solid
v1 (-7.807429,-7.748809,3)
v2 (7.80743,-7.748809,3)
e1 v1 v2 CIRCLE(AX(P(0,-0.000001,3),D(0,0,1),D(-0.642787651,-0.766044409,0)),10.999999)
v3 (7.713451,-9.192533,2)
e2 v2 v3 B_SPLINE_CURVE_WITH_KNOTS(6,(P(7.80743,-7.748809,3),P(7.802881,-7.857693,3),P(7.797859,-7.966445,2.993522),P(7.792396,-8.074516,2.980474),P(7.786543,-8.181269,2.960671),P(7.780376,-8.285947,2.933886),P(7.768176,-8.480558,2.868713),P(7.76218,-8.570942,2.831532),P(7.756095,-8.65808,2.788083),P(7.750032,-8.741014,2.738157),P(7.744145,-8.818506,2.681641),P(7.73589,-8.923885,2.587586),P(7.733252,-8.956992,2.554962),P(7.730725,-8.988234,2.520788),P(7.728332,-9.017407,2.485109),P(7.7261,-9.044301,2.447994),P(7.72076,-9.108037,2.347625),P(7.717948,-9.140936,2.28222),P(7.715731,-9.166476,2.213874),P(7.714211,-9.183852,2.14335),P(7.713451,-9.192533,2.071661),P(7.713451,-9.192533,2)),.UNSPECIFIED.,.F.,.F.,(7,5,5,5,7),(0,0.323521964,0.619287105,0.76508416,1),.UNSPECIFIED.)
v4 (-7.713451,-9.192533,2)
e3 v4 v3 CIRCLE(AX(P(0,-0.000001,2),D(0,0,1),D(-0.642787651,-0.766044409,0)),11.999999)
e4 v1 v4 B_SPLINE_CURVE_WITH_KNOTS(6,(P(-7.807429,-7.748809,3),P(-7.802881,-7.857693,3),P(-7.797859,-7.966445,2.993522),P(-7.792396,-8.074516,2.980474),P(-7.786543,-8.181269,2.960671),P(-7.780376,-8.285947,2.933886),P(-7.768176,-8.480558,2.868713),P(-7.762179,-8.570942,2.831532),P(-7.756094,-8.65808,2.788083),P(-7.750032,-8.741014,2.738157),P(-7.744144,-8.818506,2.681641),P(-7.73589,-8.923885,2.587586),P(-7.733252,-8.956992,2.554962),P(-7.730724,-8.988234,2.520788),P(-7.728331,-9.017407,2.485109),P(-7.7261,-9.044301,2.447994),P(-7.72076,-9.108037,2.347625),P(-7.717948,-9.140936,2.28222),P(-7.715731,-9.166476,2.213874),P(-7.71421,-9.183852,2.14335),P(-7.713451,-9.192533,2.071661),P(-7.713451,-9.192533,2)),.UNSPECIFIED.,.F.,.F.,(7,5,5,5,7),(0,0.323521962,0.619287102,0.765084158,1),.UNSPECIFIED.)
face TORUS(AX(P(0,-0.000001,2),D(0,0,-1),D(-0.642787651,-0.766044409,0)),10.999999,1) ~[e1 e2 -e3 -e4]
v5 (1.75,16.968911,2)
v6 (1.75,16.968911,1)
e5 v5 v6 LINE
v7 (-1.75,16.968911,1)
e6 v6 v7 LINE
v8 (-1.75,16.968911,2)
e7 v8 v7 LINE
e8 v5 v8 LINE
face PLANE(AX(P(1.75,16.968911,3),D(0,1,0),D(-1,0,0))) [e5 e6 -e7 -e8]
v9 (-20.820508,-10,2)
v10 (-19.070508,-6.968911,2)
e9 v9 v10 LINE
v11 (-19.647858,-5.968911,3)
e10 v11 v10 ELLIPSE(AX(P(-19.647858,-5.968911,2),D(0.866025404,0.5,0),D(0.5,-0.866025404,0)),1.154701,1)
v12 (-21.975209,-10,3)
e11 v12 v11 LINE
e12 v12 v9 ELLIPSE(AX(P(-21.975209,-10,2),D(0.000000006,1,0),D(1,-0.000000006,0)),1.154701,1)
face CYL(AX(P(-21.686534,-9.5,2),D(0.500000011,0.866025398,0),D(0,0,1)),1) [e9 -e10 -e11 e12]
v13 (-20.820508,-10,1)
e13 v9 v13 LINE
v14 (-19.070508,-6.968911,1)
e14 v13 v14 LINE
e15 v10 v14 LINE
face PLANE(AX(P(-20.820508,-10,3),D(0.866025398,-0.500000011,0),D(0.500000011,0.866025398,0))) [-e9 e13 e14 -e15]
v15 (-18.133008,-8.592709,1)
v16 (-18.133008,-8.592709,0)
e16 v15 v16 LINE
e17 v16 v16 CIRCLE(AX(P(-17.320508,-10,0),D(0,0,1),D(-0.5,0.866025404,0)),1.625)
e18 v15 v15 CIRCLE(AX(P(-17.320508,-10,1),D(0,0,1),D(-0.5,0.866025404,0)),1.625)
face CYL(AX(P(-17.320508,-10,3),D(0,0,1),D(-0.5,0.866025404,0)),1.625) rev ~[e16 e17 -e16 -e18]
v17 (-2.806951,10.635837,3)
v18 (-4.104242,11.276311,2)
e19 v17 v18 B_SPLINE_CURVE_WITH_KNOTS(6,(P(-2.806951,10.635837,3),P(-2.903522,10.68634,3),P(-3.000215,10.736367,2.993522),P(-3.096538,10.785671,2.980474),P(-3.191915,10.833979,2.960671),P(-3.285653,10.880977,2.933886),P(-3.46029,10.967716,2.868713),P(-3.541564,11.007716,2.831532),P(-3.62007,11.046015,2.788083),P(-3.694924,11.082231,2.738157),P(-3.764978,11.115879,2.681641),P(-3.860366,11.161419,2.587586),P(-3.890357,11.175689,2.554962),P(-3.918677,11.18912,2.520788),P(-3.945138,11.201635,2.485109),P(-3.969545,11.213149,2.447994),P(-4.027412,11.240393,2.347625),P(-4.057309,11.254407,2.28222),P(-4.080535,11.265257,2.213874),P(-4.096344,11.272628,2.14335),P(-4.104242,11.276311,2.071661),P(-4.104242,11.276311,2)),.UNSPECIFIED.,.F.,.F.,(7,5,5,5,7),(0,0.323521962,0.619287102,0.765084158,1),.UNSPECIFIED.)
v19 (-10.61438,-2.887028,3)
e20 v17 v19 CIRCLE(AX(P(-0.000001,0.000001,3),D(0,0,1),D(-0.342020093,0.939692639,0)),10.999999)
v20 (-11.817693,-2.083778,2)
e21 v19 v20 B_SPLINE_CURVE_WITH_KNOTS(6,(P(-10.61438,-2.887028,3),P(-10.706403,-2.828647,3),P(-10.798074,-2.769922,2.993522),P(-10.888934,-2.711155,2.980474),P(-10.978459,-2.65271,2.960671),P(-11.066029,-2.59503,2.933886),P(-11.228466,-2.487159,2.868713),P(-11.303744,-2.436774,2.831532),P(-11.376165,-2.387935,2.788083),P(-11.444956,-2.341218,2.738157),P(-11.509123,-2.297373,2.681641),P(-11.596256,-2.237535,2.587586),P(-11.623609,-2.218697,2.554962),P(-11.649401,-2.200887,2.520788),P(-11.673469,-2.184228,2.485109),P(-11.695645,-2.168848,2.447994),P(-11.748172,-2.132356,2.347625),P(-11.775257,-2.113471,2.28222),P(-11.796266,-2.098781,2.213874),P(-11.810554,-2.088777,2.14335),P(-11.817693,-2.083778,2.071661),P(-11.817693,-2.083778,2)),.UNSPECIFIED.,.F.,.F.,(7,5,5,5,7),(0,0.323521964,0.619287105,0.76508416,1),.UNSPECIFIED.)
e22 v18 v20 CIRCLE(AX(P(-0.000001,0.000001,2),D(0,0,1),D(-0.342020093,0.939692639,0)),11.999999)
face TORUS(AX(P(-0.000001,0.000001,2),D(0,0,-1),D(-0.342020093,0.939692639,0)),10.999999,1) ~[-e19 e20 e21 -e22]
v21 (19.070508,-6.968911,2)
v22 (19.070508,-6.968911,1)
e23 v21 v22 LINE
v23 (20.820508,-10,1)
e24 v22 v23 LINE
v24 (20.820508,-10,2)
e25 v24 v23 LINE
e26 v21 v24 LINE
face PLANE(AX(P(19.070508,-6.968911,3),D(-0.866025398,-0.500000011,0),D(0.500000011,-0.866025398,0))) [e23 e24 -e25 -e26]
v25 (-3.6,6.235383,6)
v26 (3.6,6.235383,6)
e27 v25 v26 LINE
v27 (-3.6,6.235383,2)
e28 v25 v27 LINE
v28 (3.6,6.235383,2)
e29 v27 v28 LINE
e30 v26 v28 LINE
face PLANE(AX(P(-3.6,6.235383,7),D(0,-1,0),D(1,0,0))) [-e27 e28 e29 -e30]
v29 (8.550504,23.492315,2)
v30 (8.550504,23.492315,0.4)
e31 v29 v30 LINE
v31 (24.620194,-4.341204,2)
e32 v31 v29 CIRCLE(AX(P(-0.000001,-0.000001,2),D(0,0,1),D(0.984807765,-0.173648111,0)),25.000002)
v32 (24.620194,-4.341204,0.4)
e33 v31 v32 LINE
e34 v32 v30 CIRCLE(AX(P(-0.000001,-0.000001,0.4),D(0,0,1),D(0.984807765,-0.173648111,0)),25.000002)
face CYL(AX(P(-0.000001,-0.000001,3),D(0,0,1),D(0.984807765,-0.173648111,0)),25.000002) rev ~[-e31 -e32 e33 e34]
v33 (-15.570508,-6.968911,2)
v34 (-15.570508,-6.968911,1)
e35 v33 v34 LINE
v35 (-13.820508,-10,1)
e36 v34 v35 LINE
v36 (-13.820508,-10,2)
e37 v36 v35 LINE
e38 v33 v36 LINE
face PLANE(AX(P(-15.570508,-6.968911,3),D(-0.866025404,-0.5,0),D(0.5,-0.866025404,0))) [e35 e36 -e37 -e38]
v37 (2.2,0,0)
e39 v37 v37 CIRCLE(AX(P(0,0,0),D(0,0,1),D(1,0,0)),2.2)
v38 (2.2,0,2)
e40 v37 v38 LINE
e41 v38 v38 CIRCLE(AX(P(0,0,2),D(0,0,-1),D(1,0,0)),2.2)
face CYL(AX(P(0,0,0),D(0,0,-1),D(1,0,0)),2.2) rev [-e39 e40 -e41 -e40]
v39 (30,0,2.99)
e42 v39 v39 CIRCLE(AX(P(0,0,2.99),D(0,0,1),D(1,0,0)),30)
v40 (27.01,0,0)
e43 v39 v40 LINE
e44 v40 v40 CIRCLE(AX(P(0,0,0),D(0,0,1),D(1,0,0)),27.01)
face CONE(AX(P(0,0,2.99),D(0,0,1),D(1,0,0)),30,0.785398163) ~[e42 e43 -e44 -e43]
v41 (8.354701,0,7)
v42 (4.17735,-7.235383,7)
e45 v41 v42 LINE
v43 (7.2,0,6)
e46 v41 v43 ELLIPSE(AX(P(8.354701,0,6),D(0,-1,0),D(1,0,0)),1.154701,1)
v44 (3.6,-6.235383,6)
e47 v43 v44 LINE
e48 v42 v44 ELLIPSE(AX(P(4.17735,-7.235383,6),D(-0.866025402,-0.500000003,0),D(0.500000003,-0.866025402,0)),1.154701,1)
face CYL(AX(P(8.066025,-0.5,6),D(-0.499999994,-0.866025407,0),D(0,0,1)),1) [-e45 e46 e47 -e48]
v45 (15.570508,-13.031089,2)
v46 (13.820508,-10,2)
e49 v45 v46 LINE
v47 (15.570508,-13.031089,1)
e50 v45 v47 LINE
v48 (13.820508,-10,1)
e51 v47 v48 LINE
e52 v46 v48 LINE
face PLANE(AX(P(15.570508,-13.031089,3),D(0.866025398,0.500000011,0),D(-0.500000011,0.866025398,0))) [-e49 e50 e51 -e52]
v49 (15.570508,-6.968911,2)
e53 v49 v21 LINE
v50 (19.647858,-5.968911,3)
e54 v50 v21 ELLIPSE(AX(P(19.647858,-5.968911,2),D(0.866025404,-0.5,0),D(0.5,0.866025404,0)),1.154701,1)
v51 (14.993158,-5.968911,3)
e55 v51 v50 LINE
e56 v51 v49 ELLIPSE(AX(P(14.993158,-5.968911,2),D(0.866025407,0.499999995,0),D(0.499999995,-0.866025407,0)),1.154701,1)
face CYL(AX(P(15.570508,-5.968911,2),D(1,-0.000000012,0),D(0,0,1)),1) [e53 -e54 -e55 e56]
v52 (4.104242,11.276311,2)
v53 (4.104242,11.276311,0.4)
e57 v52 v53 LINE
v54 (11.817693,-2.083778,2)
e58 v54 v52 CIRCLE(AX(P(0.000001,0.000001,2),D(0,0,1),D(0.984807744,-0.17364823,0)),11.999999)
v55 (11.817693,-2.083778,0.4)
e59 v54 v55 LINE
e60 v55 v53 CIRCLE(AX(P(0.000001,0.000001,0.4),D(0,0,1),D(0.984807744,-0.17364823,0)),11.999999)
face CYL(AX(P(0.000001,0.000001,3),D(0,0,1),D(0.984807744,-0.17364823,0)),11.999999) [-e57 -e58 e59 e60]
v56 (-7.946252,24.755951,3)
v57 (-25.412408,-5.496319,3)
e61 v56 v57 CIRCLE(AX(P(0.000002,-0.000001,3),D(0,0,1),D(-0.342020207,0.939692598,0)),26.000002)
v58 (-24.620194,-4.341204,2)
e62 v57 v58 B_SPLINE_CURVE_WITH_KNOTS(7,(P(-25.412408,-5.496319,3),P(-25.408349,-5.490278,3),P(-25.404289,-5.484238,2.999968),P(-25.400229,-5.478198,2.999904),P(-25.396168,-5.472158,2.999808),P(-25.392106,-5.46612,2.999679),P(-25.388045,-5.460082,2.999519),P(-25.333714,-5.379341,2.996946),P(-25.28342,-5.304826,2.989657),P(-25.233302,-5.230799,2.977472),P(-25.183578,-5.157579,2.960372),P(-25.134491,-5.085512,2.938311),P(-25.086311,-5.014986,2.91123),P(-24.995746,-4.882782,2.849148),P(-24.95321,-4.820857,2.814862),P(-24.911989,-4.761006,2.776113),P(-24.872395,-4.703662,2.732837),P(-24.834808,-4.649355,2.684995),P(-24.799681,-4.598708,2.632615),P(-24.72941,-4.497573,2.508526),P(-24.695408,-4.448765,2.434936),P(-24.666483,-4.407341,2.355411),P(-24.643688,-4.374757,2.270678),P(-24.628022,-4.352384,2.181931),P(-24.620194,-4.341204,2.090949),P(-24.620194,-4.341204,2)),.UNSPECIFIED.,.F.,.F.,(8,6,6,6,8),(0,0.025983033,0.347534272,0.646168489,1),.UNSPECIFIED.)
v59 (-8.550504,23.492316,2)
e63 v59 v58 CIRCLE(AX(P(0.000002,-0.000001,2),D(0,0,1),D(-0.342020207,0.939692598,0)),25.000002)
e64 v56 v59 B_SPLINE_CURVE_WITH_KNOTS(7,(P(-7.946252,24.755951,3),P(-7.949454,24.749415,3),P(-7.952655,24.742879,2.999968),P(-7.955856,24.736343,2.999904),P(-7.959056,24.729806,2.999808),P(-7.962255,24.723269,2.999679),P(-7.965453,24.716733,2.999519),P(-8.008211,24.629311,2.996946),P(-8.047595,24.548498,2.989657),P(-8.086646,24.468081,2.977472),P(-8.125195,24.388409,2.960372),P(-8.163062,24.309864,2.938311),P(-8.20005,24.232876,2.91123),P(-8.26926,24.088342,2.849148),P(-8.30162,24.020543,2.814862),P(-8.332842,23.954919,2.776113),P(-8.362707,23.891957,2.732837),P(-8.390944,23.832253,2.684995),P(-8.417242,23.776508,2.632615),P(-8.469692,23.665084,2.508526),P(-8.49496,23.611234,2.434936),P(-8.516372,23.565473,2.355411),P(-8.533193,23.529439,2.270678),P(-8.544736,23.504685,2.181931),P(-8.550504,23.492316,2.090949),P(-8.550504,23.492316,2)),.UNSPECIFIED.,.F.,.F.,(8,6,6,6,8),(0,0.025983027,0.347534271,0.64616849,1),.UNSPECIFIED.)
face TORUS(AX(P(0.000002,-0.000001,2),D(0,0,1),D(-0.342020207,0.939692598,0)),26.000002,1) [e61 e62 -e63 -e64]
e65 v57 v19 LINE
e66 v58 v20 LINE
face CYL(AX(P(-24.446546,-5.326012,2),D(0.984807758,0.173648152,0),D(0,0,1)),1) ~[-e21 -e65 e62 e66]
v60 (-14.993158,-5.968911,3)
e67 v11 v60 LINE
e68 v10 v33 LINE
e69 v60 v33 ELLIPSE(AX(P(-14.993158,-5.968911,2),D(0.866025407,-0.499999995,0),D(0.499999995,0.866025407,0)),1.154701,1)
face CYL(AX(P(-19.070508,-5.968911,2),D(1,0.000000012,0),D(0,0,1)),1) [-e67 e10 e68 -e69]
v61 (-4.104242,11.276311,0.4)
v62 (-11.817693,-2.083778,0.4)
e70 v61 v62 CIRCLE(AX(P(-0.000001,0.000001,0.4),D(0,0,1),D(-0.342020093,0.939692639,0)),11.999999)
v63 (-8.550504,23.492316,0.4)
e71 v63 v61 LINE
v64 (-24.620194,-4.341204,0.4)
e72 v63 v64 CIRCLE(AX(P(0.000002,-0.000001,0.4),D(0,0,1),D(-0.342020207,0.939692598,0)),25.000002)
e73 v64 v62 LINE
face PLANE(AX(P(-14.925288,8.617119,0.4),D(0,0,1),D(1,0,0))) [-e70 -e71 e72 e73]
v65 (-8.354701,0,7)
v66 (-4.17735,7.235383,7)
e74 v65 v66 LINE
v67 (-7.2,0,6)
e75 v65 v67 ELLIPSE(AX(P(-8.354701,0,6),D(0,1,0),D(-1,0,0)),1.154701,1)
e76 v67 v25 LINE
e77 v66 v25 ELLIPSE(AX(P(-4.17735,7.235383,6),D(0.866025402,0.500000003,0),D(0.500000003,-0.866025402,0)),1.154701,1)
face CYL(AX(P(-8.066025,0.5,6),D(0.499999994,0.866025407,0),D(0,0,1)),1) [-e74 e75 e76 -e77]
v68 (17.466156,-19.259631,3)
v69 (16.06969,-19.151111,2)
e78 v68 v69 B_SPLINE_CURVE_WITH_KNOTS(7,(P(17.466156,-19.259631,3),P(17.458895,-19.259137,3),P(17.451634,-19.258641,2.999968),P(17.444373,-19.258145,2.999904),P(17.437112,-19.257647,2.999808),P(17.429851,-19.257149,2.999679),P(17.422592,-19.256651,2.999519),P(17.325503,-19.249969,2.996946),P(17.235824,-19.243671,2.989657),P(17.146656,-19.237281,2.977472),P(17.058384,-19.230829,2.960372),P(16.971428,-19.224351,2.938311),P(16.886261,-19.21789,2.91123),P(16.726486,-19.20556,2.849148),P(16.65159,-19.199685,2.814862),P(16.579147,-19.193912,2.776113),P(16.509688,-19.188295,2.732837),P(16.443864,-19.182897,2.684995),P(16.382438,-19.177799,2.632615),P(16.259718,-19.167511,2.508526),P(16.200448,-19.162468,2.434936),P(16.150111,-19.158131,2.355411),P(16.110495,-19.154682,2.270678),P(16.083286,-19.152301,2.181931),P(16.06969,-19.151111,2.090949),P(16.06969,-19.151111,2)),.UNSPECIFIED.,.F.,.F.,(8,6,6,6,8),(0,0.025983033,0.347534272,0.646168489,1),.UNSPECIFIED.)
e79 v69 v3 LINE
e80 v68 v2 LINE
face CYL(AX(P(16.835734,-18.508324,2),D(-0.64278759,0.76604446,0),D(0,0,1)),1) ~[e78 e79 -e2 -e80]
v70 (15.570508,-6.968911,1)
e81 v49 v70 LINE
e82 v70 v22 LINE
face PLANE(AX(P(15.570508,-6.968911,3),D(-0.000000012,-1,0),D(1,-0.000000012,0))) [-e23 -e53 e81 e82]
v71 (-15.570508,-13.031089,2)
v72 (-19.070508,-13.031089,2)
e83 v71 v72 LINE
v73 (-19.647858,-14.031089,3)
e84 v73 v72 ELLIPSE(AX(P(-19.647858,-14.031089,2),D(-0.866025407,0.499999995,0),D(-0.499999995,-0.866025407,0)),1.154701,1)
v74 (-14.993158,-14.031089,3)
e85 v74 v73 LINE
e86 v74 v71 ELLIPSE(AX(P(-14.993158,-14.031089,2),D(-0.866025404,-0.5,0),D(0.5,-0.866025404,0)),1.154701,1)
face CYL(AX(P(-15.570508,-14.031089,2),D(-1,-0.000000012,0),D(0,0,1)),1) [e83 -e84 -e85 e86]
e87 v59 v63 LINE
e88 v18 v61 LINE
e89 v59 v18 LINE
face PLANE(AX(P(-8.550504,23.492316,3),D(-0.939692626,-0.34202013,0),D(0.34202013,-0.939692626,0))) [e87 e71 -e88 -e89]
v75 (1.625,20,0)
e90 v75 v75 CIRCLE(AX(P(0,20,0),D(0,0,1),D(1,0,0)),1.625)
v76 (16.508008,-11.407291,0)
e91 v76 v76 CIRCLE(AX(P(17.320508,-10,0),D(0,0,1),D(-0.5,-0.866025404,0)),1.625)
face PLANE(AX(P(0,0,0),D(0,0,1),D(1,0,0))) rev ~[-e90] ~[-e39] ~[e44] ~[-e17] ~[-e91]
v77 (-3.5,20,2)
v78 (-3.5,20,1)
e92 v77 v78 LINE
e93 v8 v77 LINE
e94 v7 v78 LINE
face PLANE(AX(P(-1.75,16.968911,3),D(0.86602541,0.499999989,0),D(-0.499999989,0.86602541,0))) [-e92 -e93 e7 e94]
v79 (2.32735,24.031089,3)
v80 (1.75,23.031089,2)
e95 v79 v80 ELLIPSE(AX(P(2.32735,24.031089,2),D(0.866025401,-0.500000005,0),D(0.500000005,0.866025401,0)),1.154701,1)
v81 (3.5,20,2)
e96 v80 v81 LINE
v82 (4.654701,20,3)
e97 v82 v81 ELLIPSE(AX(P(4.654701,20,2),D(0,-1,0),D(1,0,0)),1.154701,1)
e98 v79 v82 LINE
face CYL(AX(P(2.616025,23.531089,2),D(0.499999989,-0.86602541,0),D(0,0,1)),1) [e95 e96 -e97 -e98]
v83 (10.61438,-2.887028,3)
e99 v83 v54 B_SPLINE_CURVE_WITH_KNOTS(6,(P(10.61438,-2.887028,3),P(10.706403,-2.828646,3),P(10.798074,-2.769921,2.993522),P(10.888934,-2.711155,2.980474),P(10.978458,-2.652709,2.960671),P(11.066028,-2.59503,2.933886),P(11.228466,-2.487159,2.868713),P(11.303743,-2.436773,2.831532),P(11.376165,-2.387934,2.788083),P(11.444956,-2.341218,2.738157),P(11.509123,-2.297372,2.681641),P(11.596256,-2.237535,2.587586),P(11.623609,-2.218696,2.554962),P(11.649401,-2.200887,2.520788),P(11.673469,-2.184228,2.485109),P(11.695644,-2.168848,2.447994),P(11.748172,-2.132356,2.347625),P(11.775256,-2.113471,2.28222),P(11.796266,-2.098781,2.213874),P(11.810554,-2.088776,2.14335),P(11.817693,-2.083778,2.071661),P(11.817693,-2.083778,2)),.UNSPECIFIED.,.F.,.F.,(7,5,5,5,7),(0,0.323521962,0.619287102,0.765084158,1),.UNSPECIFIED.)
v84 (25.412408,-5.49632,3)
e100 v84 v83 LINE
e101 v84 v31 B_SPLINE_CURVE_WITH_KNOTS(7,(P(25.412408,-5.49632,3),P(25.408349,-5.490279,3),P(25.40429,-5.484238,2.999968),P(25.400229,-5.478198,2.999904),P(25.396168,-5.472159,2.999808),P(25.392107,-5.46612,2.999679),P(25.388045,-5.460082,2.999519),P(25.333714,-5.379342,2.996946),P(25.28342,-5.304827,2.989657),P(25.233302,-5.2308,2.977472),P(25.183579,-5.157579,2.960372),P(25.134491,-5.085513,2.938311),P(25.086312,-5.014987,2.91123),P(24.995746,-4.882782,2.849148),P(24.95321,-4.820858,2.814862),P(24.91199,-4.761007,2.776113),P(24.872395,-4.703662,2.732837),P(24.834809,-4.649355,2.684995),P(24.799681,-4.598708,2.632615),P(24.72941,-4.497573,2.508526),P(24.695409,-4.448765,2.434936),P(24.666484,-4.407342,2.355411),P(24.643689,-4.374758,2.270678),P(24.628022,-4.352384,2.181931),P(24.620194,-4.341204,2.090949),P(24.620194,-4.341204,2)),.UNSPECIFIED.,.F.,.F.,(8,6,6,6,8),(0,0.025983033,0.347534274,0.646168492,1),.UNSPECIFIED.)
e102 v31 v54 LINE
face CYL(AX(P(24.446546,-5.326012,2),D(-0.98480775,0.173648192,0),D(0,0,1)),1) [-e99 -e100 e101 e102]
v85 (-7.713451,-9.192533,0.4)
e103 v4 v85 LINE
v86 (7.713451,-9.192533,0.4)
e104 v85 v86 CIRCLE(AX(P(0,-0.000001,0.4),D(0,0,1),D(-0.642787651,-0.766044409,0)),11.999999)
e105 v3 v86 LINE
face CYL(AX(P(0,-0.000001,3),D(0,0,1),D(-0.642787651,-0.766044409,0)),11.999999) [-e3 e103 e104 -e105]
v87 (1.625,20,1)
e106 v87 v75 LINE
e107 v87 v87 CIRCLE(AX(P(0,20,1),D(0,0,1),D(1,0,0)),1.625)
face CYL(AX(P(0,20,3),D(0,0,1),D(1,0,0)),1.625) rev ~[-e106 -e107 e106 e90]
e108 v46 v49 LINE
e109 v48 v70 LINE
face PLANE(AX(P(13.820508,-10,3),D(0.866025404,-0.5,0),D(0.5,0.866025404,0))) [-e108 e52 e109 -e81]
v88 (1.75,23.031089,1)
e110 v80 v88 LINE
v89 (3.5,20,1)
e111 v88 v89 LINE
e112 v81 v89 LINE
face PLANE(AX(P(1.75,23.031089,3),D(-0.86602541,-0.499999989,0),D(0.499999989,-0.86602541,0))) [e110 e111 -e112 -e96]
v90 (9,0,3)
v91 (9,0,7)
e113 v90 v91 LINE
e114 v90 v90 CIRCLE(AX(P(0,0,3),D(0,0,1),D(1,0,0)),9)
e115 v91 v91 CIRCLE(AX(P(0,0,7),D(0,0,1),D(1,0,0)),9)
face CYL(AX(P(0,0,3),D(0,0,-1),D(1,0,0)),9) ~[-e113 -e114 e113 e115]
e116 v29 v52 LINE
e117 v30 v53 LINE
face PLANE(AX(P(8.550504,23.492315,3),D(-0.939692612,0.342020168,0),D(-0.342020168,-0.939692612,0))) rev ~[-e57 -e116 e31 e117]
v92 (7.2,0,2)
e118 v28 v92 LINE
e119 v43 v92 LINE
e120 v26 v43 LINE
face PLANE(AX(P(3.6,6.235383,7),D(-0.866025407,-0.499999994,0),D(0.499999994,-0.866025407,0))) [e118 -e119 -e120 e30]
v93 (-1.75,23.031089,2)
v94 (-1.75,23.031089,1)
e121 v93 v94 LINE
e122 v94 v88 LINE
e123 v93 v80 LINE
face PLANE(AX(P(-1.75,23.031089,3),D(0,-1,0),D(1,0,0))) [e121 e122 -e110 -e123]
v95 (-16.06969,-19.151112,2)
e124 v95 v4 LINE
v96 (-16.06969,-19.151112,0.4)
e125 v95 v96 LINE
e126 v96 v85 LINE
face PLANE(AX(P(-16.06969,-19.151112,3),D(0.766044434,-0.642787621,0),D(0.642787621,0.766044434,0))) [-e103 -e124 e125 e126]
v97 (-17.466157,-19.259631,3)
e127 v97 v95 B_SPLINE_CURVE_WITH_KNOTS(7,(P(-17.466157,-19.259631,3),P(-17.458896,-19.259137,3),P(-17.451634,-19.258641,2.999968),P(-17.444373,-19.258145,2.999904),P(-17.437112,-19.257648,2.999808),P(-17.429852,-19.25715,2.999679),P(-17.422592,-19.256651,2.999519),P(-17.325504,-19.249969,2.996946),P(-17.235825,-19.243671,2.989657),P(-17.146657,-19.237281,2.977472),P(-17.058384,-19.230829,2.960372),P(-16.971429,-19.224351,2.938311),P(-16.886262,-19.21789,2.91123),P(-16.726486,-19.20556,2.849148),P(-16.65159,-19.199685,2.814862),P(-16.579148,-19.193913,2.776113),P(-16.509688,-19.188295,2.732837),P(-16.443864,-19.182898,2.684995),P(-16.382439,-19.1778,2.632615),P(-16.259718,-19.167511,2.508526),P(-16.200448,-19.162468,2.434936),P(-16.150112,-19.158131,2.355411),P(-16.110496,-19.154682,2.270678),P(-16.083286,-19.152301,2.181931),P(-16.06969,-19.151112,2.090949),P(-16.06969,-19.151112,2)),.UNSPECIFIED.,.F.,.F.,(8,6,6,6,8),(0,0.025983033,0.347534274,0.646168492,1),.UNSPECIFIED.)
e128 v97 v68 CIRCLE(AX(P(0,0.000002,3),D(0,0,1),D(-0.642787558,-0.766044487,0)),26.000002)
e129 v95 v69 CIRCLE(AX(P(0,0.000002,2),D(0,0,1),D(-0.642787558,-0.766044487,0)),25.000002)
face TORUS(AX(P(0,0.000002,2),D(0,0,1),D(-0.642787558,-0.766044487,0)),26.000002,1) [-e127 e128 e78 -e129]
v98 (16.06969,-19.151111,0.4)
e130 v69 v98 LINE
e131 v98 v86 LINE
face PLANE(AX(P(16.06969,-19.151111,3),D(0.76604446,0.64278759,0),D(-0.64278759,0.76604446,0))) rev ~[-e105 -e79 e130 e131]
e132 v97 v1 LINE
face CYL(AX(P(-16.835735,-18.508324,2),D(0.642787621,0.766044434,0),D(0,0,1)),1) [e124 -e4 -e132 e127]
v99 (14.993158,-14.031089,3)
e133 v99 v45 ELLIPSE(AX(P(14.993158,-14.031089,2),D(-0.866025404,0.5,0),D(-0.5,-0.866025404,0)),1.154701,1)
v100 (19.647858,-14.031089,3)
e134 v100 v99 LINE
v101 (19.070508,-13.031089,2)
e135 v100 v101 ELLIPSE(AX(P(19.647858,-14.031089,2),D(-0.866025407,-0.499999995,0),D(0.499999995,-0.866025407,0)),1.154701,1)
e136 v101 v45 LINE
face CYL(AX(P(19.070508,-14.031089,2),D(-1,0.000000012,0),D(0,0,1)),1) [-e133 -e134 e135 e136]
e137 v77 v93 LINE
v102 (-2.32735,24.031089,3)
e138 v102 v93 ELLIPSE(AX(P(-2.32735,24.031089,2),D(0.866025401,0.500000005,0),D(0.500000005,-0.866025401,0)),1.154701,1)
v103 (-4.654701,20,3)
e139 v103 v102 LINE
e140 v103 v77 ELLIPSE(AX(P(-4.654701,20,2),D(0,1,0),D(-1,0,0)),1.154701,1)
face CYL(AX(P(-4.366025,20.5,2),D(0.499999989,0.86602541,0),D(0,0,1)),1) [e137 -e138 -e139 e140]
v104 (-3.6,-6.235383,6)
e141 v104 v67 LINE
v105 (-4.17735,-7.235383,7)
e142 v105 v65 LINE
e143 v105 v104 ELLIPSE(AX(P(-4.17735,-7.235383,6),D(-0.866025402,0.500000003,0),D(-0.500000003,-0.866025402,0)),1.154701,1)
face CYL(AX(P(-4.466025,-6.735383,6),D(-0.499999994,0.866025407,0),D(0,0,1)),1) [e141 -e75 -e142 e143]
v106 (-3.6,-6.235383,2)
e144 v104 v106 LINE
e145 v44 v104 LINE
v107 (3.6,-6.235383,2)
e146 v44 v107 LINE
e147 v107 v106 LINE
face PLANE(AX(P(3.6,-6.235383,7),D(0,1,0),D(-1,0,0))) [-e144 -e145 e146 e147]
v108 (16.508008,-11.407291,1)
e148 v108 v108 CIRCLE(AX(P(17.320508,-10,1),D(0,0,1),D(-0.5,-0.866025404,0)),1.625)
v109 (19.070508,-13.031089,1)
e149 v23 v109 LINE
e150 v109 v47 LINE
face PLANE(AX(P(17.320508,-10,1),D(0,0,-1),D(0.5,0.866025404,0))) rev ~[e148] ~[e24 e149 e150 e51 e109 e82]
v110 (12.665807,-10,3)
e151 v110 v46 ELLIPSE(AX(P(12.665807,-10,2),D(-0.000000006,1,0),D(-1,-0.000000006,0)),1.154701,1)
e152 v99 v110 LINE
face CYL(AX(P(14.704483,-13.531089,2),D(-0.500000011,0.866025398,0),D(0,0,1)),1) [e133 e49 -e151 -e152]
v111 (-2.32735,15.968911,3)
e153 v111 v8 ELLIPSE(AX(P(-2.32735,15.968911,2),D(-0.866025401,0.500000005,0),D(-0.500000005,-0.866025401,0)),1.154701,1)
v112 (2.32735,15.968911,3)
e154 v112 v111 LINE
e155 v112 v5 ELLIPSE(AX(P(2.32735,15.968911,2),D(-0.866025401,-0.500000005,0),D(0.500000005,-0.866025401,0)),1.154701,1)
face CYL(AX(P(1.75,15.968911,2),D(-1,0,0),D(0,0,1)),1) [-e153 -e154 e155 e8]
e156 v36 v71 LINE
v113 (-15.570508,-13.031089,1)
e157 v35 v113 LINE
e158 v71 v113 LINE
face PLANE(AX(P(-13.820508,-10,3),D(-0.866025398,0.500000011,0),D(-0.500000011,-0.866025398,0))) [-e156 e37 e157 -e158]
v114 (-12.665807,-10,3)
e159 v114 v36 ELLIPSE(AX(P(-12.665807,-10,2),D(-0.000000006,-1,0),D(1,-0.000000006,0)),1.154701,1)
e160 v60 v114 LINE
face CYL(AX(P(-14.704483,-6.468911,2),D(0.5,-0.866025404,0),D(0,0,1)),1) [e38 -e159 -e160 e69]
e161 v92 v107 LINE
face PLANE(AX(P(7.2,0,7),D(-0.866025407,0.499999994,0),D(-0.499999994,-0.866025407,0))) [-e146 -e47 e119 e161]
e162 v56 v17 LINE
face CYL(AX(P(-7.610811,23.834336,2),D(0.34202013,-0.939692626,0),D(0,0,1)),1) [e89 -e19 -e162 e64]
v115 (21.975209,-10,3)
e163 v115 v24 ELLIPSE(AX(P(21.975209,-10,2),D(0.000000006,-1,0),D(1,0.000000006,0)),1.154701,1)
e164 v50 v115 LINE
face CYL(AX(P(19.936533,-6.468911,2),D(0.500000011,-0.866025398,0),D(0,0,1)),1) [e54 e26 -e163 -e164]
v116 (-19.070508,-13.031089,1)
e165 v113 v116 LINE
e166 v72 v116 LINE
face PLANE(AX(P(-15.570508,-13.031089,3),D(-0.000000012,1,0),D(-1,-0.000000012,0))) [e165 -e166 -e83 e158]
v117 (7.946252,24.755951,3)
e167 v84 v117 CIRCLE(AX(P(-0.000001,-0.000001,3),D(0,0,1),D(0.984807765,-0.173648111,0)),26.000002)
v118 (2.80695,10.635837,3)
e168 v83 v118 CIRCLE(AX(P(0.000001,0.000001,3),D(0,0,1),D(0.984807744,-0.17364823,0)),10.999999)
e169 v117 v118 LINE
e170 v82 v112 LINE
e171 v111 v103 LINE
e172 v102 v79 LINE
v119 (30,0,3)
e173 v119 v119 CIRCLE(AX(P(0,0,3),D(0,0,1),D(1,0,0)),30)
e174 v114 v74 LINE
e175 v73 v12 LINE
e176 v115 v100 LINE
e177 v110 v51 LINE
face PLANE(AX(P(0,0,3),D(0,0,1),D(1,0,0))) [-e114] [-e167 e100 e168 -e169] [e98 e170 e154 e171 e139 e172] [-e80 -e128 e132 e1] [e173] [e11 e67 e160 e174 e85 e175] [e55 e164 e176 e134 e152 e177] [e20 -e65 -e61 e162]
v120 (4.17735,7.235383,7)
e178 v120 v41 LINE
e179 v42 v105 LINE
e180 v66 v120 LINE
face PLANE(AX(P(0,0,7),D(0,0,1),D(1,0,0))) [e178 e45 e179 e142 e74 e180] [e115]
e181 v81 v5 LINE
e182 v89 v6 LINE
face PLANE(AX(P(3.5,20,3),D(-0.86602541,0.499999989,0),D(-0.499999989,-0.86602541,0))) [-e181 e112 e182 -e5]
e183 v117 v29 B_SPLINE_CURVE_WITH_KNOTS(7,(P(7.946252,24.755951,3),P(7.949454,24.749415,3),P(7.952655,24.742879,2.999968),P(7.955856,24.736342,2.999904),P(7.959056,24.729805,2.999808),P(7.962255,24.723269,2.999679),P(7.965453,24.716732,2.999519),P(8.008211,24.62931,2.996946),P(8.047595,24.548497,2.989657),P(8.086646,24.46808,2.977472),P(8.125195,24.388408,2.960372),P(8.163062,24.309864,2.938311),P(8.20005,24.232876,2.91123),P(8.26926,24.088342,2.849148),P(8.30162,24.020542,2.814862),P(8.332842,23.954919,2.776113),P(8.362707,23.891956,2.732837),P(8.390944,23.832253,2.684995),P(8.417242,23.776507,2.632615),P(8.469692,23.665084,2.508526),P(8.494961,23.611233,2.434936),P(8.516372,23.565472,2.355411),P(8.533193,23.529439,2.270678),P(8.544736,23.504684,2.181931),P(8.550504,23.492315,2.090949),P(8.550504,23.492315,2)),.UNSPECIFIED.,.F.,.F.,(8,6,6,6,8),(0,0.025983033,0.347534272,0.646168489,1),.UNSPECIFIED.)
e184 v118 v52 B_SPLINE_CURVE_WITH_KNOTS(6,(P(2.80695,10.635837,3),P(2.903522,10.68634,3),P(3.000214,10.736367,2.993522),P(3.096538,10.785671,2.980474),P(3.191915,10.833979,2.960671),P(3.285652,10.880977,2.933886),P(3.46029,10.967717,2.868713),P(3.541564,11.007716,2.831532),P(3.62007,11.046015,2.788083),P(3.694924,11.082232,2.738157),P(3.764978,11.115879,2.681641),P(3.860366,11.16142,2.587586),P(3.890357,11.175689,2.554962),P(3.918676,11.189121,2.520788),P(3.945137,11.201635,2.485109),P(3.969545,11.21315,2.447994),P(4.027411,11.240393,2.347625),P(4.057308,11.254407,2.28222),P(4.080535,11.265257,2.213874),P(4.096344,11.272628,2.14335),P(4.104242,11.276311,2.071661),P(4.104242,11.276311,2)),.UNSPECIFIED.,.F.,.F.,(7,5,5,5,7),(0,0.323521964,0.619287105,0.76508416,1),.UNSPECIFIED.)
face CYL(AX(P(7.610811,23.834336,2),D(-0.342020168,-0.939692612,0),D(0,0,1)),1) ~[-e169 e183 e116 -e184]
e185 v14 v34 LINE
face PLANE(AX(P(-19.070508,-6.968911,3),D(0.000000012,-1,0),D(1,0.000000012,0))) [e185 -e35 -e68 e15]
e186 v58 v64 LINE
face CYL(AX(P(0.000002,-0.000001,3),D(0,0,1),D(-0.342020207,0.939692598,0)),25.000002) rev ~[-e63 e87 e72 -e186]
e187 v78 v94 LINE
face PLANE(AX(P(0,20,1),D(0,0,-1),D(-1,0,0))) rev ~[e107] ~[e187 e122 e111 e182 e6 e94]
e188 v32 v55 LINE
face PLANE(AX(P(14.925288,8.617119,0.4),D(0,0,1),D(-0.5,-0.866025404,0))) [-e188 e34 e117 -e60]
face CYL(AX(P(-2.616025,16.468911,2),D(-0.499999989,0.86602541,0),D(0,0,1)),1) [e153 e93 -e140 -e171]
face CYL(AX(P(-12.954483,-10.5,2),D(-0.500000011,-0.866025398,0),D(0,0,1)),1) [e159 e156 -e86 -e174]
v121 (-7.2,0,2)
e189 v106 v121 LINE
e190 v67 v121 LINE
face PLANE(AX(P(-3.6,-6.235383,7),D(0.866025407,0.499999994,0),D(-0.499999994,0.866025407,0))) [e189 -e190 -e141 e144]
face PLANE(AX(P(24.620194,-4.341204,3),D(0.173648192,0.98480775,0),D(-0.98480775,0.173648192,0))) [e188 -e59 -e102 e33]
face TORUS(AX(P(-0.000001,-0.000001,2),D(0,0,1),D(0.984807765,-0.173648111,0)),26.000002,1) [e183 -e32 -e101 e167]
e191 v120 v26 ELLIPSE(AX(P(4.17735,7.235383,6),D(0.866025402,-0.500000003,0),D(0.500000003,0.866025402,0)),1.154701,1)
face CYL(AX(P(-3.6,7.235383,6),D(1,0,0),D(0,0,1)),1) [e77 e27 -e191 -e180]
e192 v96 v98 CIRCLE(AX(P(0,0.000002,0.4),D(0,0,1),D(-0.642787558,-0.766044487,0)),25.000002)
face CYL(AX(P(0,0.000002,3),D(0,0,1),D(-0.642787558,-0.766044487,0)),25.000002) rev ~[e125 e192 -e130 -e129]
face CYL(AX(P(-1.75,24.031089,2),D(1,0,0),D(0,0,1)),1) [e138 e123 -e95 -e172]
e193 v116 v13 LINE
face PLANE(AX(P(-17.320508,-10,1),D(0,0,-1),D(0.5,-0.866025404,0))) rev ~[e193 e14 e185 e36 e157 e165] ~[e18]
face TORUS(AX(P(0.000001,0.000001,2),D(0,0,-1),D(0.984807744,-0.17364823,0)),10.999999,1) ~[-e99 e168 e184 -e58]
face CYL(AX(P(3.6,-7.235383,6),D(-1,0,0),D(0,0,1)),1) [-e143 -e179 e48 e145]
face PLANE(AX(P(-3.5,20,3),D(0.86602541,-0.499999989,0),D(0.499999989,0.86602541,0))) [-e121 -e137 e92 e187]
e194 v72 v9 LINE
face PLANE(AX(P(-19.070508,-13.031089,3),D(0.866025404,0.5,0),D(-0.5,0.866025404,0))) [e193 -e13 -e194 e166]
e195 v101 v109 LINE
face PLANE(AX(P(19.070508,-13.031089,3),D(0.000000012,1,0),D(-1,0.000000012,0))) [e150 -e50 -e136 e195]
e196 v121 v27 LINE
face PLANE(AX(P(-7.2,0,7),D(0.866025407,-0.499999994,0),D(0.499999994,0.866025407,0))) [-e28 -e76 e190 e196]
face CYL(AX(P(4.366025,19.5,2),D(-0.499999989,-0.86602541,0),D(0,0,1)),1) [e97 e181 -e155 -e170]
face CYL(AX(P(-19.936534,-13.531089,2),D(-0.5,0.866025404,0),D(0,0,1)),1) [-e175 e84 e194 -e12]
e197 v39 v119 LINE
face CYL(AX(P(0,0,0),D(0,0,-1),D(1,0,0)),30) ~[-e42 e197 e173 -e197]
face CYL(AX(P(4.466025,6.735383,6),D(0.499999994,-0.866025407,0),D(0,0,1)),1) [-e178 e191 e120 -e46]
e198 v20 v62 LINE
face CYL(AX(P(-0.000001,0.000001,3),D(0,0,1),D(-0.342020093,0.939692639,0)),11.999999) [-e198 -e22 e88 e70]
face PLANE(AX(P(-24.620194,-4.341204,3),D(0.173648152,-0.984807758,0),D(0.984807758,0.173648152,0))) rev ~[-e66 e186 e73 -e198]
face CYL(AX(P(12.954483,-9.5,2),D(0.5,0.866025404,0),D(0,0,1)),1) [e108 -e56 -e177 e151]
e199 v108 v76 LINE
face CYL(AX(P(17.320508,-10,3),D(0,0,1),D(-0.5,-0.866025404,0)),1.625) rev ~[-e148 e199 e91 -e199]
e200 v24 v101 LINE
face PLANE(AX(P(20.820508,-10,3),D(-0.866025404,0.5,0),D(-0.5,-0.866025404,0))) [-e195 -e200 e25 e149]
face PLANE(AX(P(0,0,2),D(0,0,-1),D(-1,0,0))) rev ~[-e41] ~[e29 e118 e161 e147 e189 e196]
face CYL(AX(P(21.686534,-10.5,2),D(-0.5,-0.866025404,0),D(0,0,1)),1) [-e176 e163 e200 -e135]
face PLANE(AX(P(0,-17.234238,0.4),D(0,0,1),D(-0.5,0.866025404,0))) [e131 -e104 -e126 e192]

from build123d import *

# Parameters (mm, degrees)
SKETCH004_R           = 30
SKETCH004_R_2         = 2.2
PAD001_DEPTH          = 3
POCKET004_DEPTH       = 2
POLARPATTERN002_COUNT = 3
POCKET002_DEPTH       = 2.6
POLARPATTERN004_COUNT = 3
SKETCH006_R           = 9
PAD_DEPTH             = 4
SKETCH007_R           = 1.625
POCKET_DEPTH          = 5
POLARPATTERN_COUNT    = 3
POCKET005_DEPTH       = 5
FILLET_R              = 1
CHAMFER_SIZE          = 2.99


with BuildPart() as part:
    # Sketch004 → Pad001 (new body)
    with BuildSketch(Plane.XY):
        Circle(SKETCH004_R)
        Circle(SKETCH004_R_2, mode=Mode.SUBTRACT)
    extrude(amount=PAD001_DEPTH)

    # Sketch005 (on Face4 of Pad001) → Pocket004 (cut)
    with BuildSketch(Plane.XY.offset(3)):
        Polygon((-1.75, 23.031089), (1.75, 23.031089), (3.5, 20), (1.75, 16.968911), (-1.75, 16.968911), (-3.5, 20), align=None)
    pocket004 = extrude(amount=-POCKET004_DEPTH, mode=Mode.SUBTRACT)

    # PolarPattern002: Pocket004 ×3 about axis
    polarpattern002_axis = Axis((0, 0, 3), (0, 0, 1))
    for i in range(1, POLARPATTERN002_COUNT):
        add(pocket004.rotate(polarpattern002_axis, i * 360 / POLARPATTERN002_COUNT), mode=Mode.SUBTRACT)

    # Sketch003 → Pocket002 (cut)
    with BuildSketch(Plane.XY.offset(3)):
        with BuildLine():
            ThreePointArc((-8.550504, 23.492316), (-21.650635, 12.5), (-24.620194, -4.341204))
            Line((-24.620194, -4.341204), (-11.817693, -2.083778))
            ThreePointArc((-4.104242, 11.276311), (-10.392305, 6), (-11.817693, -2.083778))
            Line((-8.550504, 23.492316), (-4.104242, 11.276311))
        make_face()
    pocket002 = extrude(amount=-POCKET002_DEPTH, mode=Mode.SUBTRACT)

    # PolarPattern004: Pocket002 ×3 about axis
    polarpattern004_axis = Axis((0, 0, 3), (0, 0, 1))
    for i in range(1, POLARPATTERN004_COUNT):
        add(pocket002.rotate(polarpattern004_axis, i * 360 / POLARPATTERN004_COUNT), mode=Mode.SUBTRACT)

    # Sketch006 → Pad (join)
    with BuildSketch(Plane.XY.offset(3)):
        Circle(SKETCH006_R)
    extrude(amount=PAD_DEPTH)

    # Sketch007 (on Face3 of PolarPattern002) → Pocket (cut)
    with BuildSketch(Plane.XY.offset(3)):
        with Locations((0, 20)):
            Circle(SKETCH007_R)
    pocket = extrude(amount=-POCKET_DEPTH, mode=Mode.SUBTRACT)

    # PolarPattern: Pocket ×3 about axis
    polarpattern_axis = Axis((0, 0, 3), (0, 0, 1))
    for i in range(1, POLARPATTERN_COUNT):
        add(pocket.rotate(polarpattern_axis, i * 360 / POLARPATTERN_COUNT), mode=Mode.SUBTRACT)

    # Sketch (on Face46 of PolarPattern) → Pocket005 (cut)
    with BuildSketch(Plane.XY.offset(7)):
        Polygon((-3.6, 6.235383), (3.6, 6.235383), (7.2, 0), (3.6, -6.235383), (-3.6, -6.235383), (-7.2, 0), align=None)
    extrude(amount=-POCKET005_DEPTH, mode=Mode.SUBTRACT)

    # Fillet
    fillet_edges = [part.edges().sort_by_distance(p)[0] for p in [
        (0, 23.031089, 3),
        (2.625, 21.515544, 3),
        (2.625, 18.484456, 3),
        (0, 16.968911, 3),
        (-2.625, 18.484456, 3),
        (-2.625, 21.515544, 3),
        (-6.327373, 17.384313, 3),
        (-21.650635, 12.5, 3),
        (-10.392305, 6, 3),
        (-18.218943, -3.212491, 3),
        (-17.320508, -6.968911, 3),
        (-19.945508, -8.484456, 3),
        (-14.695508, -8.484456, 3),
        (-14.695508, -11.515544, 3),
        (-17.320508, -13.031089, 3),
        (-19.945508, -11.515544, 3),
        (0, -12, 3),
        (-11.891571, -14.171822, 3),
        (11.891571, -14.171822, 3),
        (0, -25, 3),
        (17.320508, -6.968911, 3),
        (19.945508, -8.484456, 3),
        (19.945508, -11.515544, 3),
        (17.320508, -13.031089, 3),
        (14.695508, -11.515544, 3),
        (14.695508, -8.484456, 3),
        (18.218943, -3.212491, 3),
        (21.650635, 12.5, 3),
        (6.327373, 17.384313, 3),
        (10.392305, 6, 3),
        (0, 6.235383, 7),
        (5.4, 3.117691, 7),
        (5.4, -3.117691, 7),
        (0, -6.235383, 7),
        (-5.4, -3.117691, 7),
        (-5.4, 3.117691, 7),
    ]]
    fillet(fillet_edges, radius=FILLET_R)

    # Chamfer
    chamfer_edges = [part.edges().sort_by_distance(p)[0] for p in [
        (-30, 0, 0),
    ]]
    chamfer(chamfer_edges, length=CHAMFER_SIZE)


solid = part.part
